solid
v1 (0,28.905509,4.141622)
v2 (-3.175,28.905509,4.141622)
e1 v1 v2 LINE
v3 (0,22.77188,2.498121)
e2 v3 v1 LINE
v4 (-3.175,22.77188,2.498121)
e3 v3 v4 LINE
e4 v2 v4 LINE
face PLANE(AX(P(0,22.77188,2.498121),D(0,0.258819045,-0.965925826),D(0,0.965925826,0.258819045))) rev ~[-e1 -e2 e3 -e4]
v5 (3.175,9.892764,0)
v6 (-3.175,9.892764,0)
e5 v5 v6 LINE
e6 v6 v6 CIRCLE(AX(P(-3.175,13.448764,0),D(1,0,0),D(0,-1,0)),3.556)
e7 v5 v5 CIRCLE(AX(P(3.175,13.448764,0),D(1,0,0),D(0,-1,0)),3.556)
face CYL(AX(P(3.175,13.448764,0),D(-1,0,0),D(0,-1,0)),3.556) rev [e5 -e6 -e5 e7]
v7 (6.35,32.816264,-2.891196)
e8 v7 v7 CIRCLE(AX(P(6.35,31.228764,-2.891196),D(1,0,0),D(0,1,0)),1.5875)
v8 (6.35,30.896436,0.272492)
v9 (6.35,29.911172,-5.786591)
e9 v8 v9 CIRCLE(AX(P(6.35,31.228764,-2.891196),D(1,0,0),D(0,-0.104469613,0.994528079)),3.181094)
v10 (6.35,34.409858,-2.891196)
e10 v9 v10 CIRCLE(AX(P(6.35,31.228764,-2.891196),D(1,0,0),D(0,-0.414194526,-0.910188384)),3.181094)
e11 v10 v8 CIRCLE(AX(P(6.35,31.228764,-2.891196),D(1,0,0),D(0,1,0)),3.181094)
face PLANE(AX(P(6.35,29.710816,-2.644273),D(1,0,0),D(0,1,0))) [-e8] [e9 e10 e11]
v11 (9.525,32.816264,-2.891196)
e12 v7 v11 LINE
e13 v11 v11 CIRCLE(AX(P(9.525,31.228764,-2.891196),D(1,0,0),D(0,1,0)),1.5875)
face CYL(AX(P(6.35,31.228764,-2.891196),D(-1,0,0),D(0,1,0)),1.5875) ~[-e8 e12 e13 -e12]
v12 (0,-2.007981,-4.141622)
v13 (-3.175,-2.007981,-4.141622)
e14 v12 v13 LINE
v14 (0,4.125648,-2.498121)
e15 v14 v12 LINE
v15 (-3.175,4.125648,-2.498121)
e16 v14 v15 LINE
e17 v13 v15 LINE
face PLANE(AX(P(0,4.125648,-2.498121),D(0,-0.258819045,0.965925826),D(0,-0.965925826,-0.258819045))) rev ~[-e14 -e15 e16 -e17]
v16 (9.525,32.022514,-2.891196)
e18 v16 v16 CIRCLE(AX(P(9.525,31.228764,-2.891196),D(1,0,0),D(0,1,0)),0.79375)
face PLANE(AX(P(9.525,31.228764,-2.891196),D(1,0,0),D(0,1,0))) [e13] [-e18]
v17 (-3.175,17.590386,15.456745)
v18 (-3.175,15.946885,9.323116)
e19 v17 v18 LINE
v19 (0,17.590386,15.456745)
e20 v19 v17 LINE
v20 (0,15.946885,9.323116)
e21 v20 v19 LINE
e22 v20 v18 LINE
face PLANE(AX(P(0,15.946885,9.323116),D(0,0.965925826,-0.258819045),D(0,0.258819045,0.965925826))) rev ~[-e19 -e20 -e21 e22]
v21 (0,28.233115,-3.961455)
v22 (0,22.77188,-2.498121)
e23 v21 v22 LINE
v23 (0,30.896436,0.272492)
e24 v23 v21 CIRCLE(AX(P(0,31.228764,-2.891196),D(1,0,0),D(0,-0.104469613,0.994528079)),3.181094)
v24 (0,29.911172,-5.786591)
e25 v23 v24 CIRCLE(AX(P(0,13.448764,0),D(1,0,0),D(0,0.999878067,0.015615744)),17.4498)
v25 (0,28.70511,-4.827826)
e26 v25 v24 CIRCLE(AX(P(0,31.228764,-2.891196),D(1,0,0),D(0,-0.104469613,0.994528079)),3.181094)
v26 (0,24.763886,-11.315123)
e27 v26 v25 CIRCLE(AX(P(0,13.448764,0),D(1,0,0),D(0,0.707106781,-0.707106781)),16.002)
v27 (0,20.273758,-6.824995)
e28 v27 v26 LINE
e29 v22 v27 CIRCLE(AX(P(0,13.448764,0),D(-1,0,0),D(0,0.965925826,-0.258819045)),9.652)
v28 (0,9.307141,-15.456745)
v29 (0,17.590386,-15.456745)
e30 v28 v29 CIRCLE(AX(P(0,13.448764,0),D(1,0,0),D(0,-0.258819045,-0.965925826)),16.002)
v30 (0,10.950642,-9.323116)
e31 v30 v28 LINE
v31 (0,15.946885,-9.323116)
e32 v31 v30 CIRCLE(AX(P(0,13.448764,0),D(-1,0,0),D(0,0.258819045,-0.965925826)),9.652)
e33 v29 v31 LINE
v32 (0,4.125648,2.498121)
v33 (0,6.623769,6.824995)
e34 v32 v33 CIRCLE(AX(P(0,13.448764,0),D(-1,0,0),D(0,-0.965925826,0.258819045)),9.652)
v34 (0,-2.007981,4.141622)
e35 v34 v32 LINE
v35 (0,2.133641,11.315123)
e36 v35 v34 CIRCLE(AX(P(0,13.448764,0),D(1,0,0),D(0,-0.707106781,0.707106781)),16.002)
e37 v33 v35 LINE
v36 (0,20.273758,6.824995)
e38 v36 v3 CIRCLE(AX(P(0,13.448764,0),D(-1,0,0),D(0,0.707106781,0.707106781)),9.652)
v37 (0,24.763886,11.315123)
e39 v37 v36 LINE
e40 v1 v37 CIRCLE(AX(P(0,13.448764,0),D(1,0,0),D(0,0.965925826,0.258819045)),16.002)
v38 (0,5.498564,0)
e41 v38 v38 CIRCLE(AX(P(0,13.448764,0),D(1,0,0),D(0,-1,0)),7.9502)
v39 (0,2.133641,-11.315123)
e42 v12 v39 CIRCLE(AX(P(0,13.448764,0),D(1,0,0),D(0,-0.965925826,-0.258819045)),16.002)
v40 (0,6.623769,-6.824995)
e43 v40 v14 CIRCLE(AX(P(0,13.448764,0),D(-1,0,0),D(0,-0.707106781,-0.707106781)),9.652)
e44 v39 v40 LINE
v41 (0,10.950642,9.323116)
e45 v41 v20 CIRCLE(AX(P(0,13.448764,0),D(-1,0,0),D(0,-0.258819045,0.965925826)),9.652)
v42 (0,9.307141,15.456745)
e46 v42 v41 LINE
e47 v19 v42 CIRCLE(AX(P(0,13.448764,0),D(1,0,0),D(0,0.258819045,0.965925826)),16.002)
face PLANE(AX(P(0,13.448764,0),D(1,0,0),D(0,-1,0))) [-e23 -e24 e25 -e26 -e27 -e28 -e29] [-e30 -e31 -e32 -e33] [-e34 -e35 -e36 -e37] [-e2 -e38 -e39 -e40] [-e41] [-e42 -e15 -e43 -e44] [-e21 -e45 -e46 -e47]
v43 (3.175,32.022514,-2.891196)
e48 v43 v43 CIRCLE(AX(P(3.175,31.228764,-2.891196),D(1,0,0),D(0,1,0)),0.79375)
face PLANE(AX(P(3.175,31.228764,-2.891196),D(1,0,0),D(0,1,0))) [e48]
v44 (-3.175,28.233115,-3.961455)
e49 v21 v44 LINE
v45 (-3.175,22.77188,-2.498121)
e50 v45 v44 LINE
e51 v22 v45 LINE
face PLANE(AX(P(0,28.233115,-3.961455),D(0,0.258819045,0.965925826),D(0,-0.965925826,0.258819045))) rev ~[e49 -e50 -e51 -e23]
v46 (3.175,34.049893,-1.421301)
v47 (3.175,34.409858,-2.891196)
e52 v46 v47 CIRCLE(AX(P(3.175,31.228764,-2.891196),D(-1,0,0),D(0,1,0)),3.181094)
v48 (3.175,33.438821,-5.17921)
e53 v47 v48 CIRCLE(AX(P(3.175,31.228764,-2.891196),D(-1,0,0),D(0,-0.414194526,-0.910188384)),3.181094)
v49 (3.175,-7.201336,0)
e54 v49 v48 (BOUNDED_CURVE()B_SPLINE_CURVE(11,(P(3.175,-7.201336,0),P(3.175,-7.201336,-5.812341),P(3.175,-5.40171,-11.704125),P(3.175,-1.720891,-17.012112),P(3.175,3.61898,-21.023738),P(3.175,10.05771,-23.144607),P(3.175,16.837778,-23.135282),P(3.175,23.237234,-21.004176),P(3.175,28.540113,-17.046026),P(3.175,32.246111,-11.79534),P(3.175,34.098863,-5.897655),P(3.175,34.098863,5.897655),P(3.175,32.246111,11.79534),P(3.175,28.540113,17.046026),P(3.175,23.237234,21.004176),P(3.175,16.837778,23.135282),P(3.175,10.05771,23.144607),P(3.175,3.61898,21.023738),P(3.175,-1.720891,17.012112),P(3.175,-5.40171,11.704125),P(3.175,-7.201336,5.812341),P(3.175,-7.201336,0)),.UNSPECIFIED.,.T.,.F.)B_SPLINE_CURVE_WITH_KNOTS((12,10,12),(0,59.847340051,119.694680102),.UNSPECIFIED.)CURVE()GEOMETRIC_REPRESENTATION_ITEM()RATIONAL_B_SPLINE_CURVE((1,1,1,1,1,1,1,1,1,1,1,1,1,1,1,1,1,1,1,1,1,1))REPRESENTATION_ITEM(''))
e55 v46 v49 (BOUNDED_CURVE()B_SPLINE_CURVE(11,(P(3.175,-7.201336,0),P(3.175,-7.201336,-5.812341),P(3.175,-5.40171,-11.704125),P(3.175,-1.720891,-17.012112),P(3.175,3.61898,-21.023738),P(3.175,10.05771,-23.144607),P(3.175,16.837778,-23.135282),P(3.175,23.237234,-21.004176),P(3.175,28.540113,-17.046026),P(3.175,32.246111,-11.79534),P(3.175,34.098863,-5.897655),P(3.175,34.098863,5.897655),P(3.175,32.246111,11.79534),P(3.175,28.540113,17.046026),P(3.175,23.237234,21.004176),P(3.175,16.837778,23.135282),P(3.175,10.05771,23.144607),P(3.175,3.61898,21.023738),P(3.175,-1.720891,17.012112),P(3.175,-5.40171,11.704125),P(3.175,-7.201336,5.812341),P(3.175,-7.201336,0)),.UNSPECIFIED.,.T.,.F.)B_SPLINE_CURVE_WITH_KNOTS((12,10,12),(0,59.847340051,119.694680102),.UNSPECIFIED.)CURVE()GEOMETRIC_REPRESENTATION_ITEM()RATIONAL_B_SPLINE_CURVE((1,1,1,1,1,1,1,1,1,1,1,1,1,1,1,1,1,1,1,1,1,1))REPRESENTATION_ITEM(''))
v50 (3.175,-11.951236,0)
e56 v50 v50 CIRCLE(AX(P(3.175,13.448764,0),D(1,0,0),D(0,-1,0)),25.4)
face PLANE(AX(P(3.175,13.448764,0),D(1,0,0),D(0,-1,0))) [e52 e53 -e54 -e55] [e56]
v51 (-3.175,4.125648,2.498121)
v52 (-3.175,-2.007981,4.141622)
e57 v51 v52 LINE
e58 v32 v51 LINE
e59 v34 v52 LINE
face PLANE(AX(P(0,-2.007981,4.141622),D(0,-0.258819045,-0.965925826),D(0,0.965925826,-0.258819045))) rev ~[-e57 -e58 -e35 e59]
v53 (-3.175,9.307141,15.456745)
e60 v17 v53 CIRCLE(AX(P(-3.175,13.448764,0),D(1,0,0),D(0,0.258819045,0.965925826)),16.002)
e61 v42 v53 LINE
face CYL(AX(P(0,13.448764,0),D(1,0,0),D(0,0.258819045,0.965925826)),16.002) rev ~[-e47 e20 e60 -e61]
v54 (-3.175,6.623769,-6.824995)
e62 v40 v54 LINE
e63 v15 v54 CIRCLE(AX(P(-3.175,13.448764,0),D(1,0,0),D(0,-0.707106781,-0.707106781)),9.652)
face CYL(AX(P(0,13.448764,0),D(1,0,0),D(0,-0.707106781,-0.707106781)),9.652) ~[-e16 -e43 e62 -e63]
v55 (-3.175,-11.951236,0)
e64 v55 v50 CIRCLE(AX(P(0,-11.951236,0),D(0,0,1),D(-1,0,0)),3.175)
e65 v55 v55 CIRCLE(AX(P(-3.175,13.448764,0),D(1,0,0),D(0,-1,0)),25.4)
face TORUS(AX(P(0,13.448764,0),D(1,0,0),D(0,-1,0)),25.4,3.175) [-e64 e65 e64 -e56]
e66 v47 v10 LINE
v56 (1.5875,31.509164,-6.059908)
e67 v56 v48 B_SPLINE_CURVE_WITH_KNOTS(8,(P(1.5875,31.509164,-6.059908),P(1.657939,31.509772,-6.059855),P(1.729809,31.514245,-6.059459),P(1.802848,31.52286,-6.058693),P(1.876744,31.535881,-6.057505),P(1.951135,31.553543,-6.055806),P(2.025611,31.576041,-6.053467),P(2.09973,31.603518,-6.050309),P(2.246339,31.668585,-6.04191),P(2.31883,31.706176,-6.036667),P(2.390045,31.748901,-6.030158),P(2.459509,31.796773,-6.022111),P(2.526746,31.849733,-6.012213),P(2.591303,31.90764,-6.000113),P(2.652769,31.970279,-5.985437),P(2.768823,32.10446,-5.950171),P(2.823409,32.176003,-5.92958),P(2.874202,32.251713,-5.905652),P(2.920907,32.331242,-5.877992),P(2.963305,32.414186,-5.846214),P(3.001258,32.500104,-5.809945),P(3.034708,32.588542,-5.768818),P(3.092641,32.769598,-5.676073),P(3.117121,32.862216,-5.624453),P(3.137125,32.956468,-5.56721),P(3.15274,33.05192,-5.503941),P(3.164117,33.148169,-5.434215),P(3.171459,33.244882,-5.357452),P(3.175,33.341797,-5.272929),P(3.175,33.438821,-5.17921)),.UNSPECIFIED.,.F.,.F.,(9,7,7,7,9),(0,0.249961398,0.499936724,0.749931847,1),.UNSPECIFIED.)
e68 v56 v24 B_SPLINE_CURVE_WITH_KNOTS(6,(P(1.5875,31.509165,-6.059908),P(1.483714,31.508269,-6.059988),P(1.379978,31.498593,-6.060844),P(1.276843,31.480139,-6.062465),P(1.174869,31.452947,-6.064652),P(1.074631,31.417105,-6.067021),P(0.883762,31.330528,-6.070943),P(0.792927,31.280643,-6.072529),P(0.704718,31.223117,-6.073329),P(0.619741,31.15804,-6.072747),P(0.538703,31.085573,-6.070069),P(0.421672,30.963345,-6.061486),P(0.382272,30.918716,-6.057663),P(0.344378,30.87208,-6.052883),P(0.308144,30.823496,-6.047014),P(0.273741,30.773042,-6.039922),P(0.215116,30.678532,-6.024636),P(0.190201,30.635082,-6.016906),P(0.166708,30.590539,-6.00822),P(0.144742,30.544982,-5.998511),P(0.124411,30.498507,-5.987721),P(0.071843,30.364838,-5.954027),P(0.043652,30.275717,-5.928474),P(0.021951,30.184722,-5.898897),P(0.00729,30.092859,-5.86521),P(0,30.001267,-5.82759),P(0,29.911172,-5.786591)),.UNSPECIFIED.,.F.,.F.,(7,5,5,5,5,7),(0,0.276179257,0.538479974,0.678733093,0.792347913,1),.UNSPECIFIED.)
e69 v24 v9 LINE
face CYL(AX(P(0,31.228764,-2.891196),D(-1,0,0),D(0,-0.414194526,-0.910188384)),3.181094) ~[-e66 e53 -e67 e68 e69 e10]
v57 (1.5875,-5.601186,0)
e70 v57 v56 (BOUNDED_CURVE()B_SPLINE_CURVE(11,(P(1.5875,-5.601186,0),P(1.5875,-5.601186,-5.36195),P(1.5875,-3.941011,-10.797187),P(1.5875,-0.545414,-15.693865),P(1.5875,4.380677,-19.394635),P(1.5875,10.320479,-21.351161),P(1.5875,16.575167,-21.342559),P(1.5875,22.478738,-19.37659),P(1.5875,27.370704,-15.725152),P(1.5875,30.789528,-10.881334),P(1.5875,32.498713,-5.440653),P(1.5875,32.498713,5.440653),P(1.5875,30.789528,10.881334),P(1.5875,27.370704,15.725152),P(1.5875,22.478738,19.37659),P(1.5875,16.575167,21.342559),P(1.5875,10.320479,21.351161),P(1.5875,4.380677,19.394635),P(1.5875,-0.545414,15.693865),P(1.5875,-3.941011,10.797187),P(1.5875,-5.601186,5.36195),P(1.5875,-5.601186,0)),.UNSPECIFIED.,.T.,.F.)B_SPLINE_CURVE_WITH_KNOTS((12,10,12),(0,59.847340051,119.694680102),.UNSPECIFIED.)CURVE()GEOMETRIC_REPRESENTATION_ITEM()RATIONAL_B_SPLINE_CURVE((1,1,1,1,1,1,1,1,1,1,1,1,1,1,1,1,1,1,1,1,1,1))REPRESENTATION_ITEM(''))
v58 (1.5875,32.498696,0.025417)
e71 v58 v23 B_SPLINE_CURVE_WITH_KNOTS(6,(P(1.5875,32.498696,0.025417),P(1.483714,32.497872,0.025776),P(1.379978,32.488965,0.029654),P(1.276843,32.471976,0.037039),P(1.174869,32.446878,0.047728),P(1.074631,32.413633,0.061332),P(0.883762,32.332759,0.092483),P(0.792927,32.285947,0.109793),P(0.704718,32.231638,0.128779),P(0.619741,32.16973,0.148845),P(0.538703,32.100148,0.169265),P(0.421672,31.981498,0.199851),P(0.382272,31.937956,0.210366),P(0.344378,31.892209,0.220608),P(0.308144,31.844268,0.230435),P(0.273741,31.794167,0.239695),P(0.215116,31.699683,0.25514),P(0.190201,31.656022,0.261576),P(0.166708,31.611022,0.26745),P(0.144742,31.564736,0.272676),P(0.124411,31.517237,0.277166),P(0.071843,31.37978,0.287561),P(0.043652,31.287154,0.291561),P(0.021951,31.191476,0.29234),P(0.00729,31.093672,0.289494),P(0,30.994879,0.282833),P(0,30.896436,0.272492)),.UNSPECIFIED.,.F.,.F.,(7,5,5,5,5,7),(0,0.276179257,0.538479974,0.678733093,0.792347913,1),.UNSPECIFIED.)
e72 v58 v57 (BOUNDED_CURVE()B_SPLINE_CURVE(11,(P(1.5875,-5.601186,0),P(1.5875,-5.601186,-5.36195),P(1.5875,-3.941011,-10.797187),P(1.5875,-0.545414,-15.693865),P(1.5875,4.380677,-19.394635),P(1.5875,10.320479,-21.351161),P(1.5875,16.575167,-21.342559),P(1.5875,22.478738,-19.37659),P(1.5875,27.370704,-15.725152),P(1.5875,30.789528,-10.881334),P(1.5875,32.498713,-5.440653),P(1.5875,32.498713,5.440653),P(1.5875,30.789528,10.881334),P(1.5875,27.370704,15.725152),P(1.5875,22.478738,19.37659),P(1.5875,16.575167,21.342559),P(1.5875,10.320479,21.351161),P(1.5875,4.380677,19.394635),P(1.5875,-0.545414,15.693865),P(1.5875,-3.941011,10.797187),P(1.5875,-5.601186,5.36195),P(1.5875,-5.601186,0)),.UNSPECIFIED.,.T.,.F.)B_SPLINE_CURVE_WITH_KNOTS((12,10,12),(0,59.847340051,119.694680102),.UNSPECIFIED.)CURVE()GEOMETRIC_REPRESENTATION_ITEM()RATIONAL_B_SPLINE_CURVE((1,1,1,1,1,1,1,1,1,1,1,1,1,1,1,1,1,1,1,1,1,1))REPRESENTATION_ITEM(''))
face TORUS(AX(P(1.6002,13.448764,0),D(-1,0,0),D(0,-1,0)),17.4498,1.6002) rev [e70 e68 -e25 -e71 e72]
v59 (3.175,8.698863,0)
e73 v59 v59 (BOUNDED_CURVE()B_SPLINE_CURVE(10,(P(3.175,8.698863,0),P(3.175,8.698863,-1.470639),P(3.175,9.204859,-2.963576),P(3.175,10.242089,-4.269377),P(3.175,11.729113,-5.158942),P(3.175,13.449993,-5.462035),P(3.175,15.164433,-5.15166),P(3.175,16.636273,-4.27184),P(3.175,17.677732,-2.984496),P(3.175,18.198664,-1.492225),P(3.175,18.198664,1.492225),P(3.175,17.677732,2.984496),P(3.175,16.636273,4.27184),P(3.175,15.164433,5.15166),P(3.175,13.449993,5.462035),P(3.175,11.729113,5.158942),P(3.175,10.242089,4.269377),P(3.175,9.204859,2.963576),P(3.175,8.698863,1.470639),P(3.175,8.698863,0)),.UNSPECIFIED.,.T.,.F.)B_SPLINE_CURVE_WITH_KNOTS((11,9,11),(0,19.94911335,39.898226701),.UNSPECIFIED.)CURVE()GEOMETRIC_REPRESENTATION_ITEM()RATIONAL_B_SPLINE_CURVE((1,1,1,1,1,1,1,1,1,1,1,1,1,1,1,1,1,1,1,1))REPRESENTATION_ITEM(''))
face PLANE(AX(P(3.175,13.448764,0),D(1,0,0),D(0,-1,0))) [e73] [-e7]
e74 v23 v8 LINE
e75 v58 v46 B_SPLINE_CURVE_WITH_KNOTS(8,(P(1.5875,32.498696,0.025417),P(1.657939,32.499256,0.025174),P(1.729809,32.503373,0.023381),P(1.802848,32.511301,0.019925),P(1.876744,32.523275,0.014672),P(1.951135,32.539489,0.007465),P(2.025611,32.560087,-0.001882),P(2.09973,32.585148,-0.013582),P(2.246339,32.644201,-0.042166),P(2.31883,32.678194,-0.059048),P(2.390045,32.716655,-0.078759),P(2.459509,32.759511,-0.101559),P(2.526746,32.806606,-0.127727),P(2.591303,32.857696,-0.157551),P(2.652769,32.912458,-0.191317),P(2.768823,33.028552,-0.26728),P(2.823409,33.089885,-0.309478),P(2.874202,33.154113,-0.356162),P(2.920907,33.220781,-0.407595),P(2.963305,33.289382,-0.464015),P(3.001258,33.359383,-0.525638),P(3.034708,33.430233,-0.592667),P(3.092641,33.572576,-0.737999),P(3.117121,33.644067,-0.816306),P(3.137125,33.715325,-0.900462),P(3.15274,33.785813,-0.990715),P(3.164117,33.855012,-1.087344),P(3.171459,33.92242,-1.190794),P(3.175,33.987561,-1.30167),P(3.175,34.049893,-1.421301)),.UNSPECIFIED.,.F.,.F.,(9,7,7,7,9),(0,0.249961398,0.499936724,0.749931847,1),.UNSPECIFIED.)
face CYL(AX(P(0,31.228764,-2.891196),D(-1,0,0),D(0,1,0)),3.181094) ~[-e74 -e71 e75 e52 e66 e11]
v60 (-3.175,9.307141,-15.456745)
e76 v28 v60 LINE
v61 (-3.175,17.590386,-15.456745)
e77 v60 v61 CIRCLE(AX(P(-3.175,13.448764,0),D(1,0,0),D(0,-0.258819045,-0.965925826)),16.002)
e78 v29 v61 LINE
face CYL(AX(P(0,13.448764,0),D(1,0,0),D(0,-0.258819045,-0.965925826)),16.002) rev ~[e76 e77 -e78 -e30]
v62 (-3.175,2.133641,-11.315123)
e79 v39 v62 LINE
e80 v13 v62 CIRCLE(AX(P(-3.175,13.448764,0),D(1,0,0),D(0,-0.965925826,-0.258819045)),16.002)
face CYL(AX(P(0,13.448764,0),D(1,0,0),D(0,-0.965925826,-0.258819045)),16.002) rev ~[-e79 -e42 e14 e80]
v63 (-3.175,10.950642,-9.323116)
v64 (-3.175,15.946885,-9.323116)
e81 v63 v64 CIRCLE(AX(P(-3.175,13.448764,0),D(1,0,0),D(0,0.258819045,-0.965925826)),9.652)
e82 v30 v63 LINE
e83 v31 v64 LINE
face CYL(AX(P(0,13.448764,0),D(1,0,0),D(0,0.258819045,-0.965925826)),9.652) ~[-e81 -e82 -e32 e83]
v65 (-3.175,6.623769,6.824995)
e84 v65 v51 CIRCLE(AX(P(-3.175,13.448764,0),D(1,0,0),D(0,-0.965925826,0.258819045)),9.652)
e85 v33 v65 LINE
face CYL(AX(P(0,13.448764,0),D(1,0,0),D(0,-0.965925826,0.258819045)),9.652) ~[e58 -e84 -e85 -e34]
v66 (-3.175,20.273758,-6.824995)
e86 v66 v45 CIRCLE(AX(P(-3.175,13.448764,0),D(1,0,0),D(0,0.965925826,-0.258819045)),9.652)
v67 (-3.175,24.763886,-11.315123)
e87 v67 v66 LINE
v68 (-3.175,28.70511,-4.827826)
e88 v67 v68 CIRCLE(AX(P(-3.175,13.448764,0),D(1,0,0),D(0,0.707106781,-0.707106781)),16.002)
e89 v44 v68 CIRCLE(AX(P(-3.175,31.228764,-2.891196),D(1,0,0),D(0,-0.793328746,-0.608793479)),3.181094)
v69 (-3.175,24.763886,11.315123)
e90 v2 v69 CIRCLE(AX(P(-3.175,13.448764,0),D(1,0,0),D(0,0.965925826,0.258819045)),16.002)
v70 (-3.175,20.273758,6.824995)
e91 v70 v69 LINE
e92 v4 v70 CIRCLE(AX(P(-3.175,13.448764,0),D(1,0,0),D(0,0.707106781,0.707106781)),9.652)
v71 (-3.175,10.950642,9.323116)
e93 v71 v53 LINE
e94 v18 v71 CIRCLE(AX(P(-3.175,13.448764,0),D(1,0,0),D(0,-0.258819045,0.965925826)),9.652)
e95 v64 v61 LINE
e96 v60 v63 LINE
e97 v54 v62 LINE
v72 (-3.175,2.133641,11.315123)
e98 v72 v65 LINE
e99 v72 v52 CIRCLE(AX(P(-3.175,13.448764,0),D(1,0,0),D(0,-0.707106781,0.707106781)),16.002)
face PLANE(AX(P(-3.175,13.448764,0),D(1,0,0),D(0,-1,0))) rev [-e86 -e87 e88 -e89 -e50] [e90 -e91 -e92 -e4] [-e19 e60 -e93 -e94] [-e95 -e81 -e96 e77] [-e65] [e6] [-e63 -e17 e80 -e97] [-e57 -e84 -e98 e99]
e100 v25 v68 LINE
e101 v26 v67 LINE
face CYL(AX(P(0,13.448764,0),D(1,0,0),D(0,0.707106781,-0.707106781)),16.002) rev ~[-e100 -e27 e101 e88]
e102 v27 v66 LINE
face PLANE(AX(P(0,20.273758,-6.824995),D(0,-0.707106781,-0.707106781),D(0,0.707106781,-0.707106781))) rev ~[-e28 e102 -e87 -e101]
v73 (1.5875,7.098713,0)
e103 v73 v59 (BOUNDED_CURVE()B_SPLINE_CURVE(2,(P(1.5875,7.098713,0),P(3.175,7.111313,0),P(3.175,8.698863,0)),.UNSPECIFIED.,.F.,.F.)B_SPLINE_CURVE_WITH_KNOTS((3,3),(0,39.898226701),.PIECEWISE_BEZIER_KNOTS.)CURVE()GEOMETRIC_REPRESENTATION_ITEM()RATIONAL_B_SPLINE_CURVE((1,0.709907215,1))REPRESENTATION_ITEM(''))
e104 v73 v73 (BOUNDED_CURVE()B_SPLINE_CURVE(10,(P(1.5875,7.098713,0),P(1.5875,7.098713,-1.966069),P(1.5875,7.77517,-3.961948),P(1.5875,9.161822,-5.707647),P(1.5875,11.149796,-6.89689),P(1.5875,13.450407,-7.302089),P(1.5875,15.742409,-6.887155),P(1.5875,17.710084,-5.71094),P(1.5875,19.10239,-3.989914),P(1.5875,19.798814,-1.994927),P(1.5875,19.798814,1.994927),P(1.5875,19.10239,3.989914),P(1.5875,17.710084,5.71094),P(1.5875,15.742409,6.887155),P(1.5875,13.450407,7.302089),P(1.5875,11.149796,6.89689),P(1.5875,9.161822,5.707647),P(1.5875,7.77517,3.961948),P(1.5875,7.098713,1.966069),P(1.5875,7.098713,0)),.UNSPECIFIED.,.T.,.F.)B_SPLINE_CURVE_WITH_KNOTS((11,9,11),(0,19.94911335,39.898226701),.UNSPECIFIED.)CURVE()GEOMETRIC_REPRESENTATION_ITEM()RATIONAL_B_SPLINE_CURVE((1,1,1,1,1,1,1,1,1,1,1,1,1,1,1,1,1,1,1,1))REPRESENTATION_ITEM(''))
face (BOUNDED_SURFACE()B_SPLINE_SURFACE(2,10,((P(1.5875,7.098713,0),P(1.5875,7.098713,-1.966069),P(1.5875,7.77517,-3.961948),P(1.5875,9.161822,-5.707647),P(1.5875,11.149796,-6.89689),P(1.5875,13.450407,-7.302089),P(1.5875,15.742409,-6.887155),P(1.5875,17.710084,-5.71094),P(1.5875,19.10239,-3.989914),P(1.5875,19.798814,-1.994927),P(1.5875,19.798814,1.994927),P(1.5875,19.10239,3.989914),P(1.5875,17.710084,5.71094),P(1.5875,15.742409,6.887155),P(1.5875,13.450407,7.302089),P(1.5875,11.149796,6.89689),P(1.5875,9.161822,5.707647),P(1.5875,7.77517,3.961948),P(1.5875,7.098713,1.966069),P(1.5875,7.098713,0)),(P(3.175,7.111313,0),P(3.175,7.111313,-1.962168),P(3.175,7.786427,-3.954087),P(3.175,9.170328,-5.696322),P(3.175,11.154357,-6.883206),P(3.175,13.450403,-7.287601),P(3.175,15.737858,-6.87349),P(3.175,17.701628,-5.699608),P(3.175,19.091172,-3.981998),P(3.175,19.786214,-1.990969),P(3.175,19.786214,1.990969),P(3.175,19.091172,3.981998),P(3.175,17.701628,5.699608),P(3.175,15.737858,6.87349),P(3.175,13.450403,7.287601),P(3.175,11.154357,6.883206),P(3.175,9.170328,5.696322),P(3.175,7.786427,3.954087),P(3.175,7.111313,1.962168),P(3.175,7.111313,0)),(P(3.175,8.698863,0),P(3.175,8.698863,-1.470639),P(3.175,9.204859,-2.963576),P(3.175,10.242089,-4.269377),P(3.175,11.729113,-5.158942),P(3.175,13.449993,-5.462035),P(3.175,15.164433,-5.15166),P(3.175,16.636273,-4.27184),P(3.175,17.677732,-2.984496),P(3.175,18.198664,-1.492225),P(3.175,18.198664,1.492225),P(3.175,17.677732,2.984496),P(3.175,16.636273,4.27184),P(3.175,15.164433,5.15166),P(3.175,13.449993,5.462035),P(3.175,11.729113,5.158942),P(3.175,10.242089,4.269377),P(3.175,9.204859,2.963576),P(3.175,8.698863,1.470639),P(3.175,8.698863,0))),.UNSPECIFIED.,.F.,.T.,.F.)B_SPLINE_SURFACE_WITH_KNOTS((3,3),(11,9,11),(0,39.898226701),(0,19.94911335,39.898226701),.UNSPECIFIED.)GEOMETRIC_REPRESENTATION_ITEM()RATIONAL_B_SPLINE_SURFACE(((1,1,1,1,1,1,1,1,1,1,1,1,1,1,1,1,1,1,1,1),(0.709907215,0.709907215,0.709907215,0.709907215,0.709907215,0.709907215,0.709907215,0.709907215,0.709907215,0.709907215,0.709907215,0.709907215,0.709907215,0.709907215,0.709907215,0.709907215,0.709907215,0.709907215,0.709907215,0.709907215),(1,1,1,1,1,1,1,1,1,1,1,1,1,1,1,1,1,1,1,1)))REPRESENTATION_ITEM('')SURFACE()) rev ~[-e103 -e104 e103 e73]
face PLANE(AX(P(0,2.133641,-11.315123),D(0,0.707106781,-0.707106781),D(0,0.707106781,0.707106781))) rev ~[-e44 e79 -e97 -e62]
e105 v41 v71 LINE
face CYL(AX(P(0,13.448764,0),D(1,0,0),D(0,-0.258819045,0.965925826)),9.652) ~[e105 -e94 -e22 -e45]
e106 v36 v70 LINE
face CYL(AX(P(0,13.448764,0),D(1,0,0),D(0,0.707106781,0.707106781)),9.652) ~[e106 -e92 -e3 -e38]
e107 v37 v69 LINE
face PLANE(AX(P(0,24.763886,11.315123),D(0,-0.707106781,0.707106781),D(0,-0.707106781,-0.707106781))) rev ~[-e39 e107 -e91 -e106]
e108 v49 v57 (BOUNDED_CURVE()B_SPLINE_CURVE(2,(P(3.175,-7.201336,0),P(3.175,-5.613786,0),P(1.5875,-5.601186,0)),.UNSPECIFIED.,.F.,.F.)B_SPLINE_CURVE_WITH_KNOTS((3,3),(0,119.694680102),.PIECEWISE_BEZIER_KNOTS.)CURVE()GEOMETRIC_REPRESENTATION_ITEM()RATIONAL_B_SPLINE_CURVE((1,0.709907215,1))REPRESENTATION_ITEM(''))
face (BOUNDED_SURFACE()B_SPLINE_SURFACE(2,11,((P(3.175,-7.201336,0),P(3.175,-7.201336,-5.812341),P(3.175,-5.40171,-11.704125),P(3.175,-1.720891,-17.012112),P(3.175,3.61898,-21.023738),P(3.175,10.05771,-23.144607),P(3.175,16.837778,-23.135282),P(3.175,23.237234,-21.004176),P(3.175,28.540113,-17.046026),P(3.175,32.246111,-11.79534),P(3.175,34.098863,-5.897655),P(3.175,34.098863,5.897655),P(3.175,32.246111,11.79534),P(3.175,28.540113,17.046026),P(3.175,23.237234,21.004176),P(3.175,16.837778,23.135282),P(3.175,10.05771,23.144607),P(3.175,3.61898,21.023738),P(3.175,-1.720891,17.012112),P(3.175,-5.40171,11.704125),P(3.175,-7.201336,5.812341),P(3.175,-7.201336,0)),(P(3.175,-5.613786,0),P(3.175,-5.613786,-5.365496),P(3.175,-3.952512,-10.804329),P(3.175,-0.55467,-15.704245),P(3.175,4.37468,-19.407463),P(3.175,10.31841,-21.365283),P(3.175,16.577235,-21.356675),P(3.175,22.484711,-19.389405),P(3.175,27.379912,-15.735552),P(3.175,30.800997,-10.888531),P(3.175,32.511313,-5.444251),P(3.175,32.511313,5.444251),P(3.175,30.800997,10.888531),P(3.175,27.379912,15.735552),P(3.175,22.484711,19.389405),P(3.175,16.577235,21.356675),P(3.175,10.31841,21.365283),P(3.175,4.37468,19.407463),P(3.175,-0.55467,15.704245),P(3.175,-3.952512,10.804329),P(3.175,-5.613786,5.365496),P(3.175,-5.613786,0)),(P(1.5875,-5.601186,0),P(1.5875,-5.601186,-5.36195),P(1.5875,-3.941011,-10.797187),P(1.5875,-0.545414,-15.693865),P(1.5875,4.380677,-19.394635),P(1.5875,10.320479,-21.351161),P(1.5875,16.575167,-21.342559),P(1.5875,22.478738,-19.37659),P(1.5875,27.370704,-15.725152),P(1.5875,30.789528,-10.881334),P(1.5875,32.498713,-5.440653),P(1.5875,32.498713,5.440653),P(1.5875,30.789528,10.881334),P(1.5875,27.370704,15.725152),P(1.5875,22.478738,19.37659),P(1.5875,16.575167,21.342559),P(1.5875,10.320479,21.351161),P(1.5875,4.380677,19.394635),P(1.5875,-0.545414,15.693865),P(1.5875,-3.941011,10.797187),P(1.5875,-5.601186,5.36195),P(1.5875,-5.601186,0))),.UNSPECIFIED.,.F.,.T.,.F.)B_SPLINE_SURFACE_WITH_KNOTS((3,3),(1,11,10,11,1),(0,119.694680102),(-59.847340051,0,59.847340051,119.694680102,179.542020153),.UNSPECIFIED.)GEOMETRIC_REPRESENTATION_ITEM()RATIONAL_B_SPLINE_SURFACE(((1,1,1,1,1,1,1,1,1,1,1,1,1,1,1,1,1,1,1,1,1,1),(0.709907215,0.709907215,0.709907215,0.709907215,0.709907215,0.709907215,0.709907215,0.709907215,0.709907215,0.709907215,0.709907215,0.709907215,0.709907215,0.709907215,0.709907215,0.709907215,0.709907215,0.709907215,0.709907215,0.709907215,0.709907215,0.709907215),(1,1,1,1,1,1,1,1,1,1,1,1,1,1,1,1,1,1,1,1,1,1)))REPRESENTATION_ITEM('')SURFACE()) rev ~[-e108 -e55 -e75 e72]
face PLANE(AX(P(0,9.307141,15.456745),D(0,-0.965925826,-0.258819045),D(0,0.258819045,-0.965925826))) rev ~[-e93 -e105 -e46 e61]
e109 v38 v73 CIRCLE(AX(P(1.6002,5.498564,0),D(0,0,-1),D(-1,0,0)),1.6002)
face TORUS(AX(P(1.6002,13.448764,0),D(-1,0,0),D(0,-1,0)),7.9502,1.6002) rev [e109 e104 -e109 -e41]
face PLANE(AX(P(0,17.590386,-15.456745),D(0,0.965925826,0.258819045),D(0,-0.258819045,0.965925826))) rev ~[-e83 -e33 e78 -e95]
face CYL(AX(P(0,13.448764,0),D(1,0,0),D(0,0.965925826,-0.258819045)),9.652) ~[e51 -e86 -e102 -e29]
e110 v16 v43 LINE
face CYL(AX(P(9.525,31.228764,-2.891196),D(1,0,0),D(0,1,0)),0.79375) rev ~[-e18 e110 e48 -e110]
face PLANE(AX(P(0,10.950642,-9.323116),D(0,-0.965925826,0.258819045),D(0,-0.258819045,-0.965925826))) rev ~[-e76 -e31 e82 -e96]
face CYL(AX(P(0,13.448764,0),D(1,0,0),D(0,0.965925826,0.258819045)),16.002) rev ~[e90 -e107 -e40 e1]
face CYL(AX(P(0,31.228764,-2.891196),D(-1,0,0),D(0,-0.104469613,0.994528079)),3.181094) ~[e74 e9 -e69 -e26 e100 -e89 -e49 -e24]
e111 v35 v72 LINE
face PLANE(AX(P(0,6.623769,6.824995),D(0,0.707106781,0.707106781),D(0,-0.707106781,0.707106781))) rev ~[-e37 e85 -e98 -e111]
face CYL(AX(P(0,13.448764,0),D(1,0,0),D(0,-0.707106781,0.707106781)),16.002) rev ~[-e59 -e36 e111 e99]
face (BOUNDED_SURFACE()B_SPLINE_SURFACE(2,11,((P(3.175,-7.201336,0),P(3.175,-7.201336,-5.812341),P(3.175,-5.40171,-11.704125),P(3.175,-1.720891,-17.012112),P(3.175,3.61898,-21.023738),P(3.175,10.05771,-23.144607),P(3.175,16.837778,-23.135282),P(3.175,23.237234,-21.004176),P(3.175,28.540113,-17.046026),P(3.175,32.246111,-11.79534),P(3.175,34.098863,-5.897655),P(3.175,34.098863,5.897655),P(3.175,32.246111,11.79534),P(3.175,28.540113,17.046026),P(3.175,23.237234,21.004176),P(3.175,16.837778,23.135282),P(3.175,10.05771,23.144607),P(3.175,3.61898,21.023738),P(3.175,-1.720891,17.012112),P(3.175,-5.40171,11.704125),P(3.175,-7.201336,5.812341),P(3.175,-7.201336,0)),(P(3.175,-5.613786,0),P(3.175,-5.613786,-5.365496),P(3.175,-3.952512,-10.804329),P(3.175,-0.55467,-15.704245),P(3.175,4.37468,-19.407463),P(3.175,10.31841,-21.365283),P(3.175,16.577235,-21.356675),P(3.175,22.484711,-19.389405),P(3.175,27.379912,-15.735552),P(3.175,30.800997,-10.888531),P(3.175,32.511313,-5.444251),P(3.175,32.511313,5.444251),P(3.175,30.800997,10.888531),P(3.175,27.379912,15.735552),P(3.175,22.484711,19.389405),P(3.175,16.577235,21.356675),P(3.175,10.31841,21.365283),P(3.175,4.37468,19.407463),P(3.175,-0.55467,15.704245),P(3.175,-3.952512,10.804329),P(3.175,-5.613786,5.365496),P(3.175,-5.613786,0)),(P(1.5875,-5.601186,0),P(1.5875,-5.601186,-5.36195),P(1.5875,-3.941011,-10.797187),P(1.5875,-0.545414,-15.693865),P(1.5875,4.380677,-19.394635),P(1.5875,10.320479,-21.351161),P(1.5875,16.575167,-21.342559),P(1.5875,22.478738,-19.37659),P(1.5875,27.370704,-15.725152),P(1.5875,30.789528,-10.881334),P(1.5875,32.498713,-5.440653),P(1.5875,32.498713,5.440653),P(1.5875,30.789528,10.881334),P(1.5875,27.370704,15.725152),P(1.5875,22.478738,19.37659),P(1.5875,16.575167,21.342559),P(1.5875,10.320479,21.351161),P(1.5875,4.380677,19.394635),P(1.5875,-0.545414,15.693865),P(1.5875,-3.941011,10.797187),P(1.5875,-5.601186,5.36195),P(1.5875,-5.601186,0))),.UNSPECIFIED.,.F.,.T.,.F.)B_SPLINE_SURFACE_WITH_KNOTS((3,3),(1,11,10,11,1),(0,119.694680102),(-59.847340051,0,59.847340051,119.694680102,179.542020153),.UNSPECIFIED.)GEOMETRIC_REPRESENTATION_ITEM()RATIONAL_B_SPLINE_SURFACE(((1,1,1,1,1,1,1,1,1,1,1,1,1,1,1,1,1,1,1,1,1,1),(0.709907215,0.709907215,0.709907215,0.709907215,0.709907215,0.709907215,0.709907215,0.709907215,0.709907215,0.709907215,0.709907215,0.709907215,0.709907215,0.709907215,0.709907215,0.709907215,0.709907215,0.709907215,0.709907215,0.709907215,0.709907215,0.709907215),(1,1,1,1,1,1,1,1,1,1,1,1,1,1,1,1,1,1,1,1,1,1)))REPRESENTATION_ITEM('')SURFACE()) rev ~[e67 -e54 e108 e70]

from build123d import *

# Parameters (mm, degrees)
F2_R      = 1.6002
F4_DEPTH  = 6.35
F5_R      = 1.5875
F6_DEPTH  = 3.175
F7_R      = 0.79375
F8_DEPTH  = 6.35
F10_DEPTH = 25.4


with BuildPart() as f1:
    # F0 (on Top) → F1 (revolve)
    with BuildSketch(Plane.XY):
        with BuildLine():
            Line((-3.175, 9.8927636251), (-3.175, -11.9512363749))
            ThreePointArc((-3.175, -11.9512363749), (0, -15.1262363749), (3.175, -11.9512363749))
            Line((3.175, -11.9512363749), (3.175, -5.6012363749))
            Line((3.175, -5.6012363749), (1.6002, -5.6012363749))
            ThreePointArc((1.6002, -5.6012363749), (0.4686877287, -5.1325486462), (0, -4.0010363749))
            Line((0, -4.0010363749), (0, 5.4985636251))
            ThreePointArc((0, 5.4985636251), (0.4686877287, 6.6300758963), (1.6002, 7.0987636251))
            Line((1.6002, 7.0987636251), (3.175, 7.0987636251))
            Line((3.175, 7.0987636251), (3.175, 9.8927636251))
            Line((3.175, 9.8927636251), (-3.175, 9.8927636251))
        make_face()
    revolve(axis=Axis((0.8001, 13.4487636251, 0), (1, 0, 0)))

    # F2
    f2_edges = [f1.edges().sort_by_distance(p)[0] for p in [
        (3.175, 38.848764, 0),
        (3.175, 32.498764, 0),
        (3.175, 19.798764, 0),
    ]]
    fillet(f2_edges, radius=F2_R)

    # F3 (on face) → F4 (join)
    with BuildSketch(Plane.YZ):
        with BuildLine():
            ThreePointArc((30.8985636251, 0), (30.8980316896, 0.1362499594), (30.8964359157, 0.272491612))
            ThreePointArc((30.8964359157, 0.272491612), (28.0889100487, -2.3806262812), (29.9111717059, -5.7865914164))
            ThreePointArc((29.9111717059, -5.7865914164), (30.6499445231, -2.9351142662), (30.8985636251, 0))
        make_face()
        with BuildLine():
            ThreePointArc((29.9111717059, -5.7865914164), (32.9503875259, -5.566149112), (34.4098581055, -2.8911961708))
            ThreePointArc((34.4098581055, -2.8911961708), (33.3574012471, -0.5272452476), (30.8964359157, 0.272491612))
            ThreePointArc((30.8964359157, 0.272491612), (30.8980316896, 0.1362499594), (30.8985636251, 0))
            ThreePointArc((30.8985636251, 0), (30.6499445231, -2.9351142662), (29.9111717059, -5.7865914164))
        make_face()
    extrude(amount=F4_DEPTH)

    # F5 (on face) → F6 (join)
    with BuildSketch(Plane.YZ.offset(6.35)):
        with Locations((31.2287636251, -2.8911961708)):
            Circle(F5_R)
    extrude(amount=F6_DEPTH)

    # F7 (on face) → F8 (cut)
    with BuildSketch(Plane.YZ.offset(9.525)):
        with Locations((31.2287636251, -2.8911961708)):
            Circle(F7_R)
    extrude(amount=-F8_DEPTH, mode=Mode.SUBTRACT)

    # F9 (on face) → F10 (cut)
    with BuildSketch(Plane.YZ):
        with BuildLine():
            ThreePointArc((10.9506422018, 9.3231160753), (13.4487636251, 9.652), (15.9468850484, 9.3231160753))
            Line((15.9468850484, 9.3231160753), (17.5903859848, 15.4567450723))
            ThreePointArc((17.5903859848, 15.4567450723), (13.4487636251, 16.002), (9.3071412654, 15.4567450723))
            Line((9.3071412654, 15.4567450723), (10.9506422018, 9.3231160753))
        make_face()
        with BuildLine():
            Line((6.6237689731, 6.824994652), (2.1336409125, 11.3151227125))
            ThreePointArc((2.1336409125, 11.3151227125), (-0.4093748863, 8.001), (-2.0079814472, 4.1416223597))
            Line((-2.0079814472, 4.1416223597), (4.1256475498, 2.4981214233))
            ThreePointArc((4.1256475498, 2.4981214233), (5.0898864278, 4.826), (6.6237689731, 6.824994652))
        make_face()
        with BuildLine():
            Line((4.1256475498, -2.4981214233), (-2.0079814472, -4.1416223597))
            ThreePointArc((-2.0079814472, -4.1416223597), (-0.4093748863, -8.001), (2.1336409125, -11.3151227125))
            Line((2.1336409125, -11.3151227125), (6.6237689731, -6.824994652))
            ThreePointArc((6.6237689731, -6.824994652), (5.0898864278, -4.826), (4.1256475498, -2.4981214233))
        make_face()
        with BuildLine():
            Line((10.9506422018, -9.3231160753), (9.3071412654, -15.4567450723))
            ThreePointArc((9.3071412654, -15.4567450723), (13.4487636251, -16.002), (17.5903859848, -15.4567450723))
            Line((17.5903859848, -15.4567450723), (15.9468850484, -9.3231160753))
            ThreePointArc((15.9468850484, -9.3231160753), (13.4487636251, -9.652), (10.9506422018, -9.3231160753))
        make_face()
        with BuildLine():
            Line((20.2737582771, -6.824994652), (24.7638863376, -11.3151227125))
            ThreePointArc((24.7638863376, -11.3151227125), (27.124727829, -8.3085502403), (28.7051099293, -4.8278257474))
            ThreePointArc((28.7051099293, -4.8278257474), (28.435320817, -4.4130500965), (28.2331154758, -3.961455139))
            Line((28.2331154758, -3.961455139), (22.7718797004, -2.4981214233))
            ThreePointArc((22.7718797004, -2.4981214233), (21.8076408224, -4.826), (20.2737582771, -6.824994652))
        make_face()
        with BuildLine():
            Line((22.7718797004, 2.4981214233), (28.9055086974, 4.1416223597))
            ThreePointArc((28.9055086974, 4.1416223597), (27.3069021365, 8.001), (24.7638863376, 11.3151227125))
            Line((24.7638863376, 11.3151227125), (20.2737582771, 6.824994652))
            ThreePointArc((20.2737582771, 6.824994652), (21.8076408224, 4.826), (22.7718797004, 2.4981214233))
        make_face()
    extrude(amount=-F10_DEPTH, mode=Mode.SUBTRACT)


solid = f1.part
